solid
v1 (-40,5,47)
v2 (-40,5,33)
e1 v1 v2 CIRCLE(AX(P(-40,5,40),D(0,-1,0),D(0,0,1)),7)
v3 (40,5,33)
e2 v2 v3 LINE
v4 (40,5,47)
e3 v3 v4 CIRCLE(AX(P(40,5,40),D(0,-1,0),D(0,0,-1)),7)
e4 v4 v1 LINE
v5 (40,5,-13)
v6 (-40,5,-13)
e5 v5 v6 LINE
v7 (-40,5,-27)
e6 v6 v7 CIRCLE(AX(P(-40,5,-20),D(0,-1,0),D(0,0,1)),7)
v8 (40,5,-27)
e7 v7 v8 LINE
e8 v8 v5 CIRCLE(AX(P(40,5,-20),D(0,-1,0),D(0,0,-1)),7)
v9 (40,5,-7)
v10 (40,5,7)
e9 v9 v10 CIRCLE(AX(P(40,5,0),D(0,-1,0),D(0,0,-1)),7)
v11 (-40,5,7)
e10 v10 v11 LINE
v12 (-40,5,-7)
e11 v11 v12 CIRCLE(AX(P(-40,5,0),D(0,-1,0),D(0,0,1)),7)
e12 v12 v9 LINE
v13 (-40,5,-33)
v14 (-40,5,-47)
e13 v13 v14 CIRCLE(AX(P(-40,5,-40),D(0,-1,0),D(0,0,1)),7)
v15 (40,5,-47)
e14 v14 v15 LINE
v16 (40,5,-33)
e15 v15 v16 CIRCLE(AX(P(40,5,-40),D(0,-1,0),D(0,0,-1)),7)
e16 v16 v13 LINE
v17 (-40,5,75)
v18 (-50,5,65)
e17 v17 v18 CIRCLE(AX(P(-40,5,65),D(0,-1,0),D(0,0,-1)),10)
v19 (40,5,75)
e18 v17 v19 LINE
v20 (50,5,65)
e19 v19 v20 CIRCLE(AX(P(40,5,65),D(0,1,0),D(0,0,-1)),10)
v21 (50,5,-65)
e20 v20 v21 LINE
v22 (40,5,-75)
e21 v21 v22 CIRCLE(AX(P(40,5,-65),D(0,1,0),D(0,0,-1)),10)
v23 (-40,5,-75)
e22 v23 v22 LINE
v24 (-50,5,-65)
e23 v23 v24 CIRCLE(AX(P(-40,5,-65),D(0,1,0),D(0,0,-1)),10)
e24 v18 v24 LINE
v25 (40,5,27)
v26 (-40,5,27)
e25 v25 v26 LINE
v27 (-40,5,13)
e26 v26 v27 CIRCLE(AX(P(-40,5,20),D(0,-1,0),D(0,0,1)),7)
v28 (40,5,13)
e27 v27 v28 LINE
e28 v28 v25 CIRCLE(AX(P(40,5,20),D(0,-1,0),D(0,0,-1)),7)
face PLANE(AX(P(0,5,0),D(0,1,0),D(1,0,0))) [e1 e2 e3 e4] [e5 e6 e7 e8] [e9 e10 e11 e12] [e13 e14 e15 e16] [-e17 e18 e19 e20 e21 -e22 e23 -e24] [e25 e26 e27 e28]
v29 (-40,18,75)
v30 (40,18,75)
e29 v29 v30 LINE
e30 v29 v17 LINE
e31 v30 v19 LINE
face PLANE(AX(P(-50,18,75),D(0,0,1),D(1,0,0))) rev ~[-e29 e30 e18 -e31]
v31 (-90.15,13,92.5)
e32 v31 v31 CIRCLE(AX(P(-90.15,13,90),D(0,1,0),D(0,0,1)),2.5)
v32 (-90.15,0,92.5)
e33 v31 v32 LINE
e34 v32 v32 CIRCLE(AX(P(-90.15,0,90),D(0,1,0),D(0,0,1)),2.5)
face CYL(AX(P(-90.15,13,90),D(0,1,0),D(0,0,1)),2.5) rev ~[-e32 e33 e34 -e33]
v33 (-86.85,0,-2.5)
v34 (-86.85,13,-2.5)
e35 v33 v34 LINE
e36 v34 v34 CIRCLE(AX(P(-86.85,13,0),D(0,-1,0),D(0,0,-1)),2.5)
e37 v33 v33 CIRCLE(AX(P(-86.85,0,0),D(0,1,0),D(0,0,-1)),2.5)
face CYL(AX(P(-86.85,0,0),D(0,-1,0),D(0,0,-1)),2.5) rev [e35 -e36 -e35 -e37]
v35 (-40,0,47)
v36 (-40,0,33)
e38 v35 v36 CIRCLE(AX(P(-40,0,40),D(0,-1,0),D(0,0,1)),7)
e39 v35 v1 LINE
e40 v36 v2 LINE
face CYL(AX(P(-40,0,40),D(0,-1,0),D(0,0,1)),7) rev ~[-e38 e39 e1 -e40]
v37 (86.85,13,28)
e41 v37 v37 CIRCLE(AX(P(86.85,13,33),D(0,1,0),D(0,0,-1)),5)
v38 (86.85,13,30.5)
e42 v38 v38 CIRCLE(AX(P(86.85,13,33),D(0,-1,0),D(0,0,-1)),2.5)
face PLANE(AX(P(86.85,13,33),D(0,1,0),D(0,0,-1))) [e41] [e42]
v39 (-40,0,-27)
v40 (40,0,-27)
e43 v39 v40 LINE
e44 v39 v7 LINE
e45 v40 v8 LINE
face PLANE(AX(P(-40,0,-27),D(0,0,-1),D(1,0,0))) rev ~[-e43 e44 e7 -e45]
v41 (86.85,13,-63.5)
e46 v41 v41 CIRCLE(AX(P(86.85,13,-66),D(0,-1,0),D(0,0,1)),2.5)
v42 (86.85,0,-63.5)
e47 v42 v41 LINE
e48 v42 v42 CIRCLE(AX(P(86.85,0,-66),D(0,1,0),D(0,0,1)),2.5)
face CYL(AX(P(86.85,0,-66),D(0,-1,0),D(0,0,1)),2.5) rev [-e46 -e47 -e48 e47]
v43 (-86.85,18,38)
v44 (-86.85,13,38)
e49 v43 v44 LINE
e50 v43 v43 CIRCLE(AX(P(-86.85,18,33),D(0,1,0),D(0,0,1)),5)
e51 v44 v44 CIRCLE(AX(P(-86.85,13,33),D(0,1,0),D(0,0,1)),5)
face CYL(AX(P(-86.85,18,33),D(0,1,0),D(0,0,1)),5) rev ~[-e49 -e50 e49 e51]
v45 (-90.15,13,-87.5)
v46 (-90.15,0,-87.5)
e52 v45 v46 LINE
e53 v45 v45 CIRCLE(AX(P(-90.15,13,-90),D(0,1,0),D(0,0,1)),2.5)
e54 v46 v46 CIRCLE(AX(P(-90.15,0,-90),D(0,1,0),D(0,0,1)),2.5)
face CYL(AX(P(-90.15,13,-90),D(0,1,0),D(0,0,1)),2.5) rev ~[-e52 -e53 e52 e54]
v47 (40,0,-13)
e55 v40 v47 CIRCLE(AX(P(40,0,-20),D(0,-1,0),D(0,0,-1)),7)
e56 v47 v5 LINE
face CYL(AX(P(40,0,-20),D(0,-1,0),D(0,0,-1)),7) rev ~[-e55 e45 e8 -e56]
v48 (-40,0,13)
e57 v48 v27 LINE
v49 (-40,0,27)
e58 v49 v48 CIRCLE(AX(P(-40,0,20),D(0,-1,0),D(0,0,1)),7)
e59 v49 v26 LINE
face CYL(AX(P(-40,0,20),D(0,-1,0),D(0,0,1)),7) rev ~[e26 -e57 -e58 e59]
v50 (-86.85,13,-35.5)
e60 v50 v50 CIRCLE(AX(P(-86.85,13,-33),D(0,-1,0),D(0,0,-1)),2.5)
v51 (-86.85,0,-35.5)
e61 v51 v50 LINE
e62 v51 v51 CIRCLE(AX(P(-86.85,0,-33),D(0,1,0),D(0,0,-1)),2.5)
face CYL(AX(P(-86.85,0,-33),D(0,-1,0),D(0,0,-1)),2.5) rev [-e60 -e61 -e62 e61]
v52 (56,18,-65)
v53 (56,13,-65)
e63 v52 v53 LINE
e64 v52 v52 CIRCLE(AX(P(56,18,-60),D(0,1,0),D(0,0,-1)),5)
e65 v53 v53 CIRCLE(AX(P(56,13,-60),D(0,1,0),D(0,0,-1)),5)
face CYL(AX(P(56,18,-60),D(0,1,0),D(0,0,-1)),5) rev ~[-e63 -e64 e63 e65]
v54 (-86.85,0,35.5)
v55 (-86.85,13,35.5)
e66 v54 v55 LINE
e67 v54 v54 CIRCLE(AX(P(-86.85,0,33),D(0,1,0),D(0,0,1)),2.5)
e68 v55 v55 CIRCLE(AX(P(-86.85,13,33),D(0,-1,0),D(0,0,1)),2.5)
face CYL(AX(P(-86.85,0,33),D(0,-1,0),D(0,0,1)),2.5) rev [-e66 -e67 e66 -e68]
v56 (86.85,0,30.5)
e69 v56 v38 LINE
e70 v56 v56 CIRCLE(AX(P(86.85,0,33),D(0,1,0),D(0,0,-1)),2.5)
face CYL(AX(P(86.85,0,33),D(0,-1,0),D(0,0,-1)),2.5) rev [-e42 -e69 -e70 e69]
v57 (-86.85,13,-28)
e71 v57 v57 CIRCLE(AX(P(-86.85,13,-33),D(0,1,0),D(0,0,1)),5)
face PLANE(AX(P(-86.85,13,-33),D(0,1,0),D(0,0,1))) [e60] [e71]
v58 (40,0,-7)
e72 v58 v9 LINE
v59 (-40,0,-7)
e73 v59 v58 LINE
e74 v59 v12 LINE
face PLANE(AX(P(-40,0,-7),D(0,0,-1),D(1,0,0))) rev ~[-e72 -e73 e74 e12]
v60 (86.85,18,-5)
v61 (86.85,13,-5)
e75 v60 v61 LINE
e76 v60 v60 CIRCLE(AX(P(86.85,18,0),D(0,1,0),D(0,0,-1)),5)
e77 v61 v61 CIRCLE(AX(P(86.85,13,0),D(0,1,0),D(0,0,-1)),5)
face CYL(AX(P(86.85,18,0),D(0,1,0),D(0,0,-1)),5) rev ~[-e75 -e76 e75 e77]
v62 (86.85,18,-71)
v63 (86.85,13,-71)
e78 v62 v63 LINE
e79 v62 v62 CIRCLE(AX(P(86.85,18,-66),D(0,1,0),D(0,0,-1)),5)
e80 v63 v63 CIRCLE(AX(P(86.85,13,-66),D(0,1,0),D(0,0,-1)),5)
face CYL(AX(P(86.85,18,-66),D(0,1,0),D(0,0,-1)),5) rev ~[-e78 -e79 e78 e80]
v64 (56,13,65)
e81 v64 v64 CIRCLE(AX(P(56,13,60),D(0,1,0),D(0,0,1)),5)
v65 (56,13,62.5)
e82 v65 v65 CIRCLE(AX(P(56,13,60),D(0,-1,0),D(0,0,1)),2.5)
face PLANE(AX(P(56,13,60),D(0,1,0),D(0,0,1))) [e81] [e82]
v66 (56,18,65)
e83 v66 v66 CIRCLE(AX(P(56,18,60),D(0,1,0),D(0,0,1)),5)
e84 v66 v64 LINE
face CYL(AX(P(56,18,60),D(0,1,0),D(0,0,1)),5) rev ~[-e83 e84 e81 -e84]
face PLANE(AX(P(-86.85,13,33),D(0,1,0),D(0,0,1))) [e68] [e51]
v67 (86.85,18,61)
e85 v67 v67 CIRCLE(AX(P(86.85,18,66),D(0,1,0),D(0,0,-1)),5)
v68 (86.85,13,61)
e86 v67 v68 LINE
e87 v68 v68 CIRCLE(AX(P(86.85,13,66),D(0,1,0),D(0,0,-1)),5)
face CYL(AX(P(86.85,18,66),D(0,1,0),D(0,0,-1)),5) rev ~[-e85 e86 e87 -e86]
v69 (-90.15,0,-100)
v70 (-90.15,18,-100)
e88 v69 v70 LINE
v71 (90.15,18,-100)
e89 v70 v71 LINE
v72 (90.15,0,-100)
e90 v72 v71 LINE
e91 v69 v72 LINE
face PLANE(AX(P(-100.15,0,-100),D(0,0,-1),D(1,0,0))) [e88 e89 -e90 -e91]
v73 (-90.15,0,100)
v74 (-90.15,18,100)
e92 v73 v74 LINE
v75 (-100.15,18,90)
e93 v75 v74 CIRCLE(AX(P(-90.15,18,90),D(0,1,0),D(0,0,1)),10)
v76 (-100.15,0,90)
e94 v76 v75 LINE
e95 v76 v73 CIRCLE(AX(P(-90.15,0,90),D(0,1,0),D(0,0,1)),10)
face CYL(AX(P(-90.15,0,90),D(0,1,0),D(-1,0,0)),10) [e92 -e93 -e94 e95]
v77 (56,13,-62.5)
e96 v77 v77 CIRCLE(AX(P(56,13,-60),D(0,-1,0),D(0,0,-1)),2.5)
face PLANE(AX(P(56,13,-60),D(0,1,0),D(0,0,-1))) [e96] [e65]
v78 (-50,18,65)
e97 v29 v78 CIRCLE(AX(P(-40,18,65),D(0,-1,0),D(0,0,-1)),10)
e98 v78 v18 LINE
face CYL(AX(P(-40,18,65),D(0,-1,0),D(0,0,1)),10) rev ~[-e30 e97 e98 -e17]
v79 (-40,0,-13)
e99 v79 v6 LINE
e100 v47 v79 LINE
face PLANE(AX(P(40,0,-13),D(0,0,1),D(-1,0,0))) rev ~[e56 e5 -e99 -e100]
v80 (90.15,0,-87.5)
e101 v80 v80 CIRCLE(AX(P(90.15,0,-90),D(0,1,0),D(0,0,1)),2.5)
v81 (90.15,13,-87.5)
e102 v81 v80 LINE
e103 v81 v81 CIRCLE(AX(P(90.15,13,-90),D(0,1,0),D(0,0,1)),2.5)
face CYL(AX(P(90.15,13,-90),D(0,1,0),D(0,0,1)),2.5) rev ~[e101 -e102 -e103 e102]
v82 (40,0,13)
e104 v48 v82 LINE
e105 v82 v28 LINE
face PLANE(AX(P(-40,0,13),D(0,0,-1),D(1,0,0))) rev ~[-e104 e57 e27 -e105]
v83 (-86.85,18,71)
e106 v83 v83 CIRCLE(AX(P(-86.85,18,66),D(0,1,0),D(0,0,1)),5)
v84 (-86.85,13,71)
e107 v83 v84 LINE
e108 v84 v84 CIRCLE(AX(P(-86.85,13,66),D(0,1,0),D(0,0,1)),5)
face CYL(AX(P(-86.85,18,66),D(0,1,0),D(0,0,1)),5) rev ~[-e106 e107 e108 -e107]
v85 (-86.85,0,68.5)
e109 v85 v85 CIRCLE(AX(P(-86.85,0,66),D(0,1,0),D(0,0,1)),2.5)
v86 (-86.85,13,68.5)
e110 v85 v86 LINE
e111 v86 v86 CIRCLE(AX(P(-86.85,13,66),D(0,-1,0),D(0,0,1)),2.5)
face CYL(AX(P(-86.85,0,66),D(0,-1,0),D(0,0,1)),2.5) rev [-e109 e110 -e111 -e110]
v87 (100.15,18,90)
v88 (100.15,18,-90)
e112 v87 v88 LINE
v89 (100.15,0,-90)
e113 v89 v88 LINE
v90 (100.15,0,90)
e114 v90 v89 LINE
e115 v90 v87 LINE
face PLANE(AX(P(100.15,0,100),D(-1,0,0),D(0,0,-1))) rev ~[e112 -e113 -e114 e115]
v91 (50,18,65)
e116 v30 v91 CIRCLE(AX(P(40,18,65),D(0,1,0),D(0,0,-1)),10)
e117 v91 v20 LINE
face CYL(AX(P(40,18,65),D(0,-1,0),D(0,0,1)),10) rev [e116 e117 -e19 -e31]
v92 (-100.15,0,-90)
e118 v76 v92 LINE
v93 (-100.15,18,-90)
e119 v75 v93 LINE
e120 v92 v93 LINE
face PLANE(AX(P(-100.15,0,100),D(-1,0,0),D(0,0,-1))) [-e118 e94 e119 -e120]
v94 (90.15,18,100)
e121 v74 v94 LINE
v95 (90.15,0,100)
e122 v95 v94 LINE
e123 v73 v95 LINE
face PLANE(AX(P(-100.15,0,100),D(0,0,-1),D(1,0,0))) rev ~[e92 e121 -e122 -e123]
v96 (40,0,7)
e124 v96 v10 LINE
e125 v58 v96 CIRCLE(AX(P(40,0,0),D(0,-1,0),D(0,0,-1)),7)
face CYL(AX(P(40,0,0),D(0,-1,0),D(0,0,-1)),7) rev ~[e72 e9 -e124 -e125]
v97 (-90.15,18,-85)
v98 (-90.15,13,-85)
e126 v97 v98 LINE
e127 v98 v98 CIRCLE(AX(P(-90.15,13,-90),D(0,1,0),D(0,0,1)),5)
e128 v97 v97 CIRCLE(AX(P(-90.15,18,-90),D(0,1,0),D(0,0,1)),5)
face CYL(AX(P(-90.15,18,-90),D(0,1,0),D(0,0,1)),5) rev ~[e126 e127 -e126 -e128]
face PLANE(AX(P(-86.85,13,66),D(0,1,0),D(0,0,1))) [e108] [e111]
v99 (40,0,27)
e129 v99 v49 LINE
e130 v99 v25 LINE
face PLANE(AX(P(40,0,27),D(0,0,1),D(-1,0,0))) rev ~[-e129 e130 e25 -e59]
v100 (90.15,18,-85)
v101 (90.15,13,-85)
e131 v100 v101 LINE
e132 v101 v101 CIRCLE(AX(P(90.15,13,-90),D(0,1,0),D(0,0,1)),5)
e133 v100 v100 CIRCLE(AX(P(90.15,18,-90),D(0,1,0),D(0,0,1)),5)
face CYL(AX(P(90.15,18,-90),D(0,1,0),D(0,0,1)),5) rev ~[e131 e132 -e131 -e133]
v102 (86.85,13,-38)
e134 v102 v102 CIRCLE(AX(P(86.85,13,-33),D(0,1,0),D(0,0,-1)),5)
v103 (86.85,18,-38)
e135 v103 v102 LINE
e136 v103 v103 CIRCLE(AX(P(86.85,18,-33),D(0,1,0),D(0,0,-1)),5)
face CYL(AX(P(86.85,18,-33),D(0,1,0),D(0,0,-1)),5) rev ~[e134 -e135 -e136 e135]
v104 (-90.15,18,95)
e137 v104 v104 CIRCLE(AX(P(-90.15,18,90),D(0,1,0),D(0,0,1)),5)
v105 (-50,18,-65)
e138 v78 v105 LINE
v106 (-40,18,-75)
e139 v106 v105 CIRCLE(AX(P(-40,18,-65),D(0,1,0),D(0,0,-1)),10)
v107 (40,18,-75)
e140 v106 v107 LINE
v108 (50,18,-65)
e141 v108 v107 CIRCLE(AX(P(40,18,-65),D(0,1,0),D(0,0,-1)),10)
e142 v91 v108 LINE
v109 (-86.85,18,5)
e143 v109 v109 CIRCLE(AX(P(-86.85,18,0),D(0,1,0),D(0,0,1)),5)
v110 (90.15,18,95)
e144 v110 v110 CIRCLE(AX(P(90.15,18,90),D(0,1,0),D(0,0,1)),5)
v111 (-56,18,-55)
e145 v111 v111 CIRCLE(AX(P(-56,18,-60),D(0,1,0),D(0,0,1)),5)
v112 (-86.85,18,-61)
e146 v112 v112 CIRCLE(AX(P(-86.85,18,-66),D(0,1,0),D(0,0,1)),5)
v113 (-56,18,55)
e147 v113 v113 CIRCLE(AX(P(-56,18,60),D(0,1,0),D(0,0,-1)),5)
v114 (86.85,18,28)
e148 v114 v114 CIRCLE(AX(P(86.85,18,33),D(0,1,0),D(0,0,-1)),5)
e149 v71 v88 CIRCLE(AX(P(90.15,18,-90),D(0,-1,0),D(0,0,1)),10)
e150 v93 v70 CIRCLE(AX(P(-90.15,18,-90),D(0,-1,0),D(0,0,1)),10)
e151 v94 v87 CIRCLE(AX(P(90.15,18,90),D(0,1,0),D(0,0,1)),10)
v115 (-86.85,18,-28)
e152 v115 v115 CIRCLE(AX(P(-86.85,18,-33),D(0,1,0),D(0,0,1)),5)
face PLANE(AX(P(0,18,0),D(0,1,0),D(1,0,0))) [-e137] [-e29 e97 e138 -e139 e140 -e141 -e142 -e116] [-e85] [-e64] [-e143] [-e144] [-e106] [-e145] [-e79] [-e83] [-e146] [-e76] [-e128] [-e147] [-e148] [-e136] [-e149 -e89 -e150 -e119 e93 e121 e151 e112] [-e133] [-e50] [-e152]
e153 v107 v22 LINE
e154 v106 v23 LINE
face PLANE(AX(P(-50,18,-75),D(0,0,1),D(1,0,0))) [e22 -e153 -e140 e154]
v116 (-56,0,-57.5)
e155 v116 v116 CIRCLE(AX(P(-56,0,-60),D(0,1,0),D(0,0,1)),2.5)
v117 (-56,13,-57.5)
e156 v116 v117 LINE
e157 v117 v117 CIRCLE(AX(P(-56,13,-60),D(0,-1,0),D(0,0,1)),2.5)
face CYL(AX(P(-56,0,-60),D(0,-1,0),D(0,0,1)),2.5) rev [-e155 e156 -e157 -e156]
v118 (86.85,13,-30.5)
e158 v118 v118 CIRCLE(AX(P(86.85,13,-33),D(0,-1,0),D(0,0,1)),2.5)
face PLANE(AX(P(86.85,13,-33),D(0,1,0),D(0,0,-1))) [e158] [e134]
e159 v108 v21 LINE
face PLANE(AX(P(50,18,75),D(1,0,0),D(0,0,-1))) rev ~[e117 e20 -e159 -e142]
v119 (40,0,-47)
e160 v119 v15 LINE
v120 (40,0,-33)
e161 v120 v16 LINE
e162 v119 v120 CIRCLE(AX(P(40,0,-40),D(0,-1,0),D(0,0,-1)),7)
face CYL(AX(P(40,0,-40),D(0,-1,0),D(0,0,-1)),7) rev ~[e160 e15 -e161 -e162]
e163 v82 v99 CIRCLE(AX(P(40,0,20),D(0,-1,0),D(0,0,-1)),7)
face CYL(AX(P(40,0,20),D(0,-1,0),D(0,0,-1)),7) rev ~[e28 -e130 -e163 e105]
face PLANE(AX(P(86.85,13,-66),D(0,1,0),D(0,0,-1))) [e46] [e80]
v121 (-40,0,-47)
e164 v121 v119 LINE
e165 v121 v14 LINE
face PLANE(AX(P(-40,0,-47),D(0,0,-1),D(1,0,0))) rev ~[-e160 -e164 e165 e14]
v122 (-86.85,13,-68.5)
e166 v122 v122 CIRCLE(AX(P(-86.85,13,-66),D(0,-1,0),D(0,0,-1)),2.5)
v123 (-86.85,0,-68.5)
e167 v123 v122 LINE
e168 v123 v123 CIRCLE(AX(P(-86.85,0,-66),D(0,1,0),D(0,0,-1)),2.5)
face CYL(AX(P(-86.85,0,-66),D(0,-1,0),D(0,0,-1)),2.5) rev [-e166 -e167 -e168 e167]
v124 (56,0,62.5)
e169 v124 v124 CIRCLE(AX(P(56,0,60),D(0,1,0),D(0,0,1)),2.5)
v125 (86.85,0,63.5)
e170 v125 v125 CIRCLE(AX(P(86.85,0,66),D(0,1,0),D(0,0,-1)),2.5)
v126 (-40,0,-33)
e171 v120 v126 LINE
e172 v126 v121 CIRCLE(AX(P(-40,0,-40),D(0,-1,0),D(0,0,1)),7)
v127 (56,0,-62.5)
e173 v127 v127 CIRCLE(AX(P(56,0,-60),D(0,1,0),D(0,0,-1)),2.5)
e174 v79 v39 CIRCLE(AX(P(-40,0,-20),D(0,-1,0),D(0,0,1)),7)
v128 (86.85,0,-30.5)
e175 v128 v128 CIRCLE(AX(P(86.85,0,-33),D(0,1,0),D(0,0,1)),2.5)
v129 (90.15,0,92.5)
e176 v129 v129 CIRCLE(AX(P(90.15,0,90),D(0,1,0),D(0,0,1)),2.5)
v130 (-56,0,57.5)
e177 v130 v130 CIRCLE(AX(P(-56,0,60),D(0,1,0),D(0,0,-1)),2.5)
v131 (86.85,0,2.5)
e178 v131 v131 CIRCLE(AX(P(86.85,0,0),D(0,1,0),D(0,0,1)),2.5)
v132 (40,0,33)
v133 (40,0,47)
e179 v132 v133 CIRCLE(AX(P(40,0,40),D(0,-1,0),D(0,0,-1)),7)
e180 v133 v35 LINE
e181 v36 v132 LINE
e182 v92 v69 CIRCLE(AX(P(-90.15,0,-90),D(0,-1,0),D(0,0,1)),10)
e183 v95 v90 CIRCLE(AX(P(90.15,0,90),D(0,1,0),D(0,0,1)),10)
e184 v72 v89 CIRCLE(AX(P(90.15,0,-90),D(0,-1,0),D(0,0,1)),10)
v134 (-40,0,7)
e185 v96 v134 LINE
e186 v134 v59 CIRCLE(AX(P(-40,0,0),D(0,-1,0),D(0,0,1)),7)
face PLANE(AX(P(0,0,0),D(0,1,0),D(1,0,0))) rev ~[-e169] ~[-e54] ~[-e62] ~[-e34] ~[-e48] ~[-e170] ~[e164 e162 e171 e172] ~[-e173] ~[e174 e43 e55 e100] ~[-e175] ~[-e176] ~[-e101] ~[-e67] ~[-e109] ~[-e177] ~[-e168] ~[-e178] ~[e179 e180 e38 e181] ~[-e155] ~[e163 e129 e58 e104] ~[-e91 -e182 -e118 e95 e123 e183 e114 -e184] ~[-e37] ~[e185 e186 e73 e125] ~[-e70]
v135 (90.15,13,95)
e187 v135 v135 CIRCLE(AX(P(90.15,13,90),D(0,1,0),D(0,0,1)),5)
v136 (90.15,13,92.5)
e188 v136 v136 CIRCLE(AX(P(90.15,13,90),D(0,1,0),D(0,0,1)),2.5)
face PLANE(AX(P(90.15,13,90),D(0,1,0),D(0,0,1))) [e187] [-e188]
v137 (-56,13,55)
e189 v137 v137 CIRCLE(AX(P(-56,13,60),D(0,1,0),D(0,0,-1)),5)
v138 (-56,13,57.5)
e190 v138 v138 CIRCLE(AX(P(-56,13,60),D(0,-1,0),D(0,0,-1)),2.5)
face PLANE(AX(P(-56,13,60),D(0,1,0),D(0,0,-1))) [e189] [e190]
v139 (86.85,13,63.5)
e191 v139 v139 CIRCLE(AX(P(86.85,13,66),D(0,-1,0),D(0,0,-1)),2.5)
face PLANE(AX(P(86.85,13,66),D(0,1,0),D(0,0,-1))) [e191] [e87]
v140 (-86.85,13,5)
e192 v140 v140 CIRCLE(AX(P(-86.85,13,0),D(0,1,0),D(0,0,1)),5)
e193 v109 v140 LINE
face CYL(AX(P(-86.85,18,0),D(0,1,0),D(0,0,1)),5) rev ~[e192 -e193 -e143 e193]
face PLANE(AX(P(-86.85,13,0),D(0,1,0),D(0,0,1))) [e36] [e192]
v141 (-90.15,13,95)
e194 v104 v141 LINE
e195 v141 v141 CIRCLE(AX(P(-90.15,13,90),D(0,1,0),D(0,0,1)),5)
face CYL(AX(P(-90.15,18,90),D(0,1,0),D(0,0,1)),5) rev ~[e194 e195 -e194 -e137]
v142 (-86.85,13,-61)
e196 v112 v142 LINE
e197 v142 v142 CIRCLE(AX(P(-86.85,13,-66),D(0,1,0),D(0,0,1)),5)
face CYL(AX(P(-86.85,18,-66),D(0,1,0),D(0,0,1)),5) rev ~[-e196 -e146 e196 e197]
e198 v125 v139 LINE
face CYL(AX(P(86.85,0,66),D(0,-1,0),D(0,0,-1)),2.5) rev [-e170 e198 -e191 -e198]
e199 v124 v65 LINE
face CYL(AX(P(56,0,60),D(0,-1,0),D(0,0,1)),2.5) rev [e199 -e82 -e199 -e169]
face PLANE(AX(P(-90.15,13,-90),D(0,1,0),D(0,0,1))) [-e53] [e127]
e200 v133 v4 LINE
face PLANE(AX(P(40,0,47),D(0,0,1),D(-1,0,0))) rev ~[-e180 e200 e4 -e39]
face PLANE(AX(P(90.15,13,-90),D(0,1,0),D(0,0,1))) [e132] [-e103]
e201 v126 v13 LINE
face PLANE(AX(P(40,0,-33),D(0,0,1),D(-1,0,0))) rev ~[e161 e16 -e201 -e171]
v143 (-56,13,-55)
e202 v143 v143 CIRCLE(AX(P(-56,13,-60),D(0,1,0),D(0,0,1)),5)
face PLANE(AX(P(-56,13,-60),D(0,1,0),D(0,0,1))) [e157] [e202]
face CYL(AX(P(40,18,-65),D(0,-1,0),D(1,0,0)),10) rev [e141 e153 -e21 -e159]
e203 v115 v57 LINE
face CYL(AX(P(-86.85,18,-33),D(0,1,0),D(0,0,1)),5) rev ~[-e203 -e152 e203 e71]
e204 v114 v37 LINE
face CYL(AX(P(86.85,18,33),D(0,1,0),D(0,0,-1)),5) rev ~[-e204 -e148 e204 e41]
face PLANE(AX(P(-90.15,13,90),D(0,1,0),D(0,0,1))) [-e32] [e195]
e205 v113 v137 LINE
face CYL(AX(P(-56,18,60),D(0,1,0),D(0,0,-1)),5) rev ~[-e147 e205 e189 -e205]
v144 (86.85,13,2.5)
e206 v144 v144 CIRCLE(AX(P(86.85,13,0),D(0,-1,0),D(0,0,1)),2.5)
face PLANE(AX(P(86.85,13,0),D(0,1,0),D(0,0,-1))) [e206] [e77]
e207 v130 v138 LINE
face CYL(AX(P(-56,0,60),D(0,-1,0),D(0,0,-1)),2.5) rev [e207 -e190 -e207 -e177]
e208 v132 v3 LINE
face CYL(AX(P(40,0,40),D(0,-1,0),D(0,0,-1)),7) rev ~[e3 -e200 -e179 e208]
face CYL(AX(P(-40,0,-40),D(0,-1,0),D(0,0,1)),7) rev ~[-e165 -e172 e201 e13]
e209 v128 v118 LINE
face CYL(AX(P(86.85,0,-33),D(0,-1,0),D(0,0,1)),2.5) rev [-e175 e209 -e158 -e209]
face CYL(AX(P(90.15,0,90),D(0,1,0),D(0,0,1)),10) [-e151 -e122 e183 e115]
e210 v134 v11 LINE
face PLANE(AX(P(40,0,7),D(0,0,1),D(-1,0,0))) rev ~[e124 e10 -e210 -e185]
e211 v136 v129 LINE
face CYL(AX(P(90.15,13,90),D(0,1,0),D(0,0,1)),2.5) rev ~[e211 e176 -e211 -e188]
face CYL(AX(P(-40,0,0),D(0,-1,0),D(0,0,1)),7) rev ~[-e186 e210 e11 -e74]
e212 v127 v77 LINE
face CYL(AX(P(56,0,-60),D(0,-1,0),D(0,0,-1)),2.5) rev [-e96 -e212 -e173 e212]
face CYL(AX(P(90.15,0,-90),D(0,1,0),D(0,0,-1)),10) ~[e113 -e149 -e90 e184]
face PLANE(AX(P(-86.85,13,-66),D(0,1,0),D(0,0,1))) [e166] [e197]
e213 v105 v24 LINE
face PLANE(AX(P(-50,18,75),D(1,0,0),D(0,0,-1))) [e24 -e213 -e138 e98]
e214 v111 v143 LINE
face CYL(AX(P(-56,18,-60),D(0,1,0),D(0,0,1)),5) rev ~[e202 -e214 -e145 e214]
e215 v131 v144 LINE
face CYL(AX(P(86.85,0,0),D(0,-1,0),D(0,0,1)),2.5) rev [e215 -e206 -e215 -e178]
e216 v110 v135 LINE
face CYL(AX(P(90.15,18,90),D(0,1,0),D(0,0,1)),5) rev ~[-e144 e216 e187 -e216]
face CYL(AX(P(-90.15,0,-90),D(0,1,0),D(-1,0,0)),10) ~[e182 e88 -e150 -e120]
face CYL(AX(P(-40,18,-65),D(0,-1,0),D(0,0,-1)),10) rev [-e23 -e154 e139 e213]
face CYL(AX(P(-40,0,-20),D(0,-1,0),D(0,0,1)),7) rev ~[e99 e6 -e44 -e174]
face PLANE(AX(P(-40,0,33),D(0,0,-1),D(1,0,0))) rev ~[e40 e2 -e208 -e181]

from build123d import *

# Parameters (mm, degrees)
SKETCH1_W           = 200.3
SKETCH1_H           = 200
SKETCH1_R           = 2.5
BOSS_EXTRUDE1_DEPTH = 18
FILLET1_R           = 10
SKETCH2_R           = 5
CUT_EXTRUDE1_DEPTH  = 5
SKETCH3_W           = 100
SKETCH3_H           = 150
CUT_EXTRUDE2_DEPTH  = 13
FILLET2_R           = 10
SKETCH4_R           = 5
CUT_EXTRUDE3_DEPTH  = 5
SKETCH5_R           = 2.5
CUT_EXTRUDE4_DEPTH  = 143.123265161


with BuildPart() as part:
    # Sketch1 → Boss-Extrude1 (new body)
    with BuildSketch(Plane(origin=(0, 0, 0), x_dir=(1, 0, 0), z_dir=(0, 1, 0))):
        Rectangle(SKETCH1_W, SKETCH1_H)
        with Locations(Location((86.84999973, 0, 0), (0, 0, 270))):
            Circle(SKETCH1_R, mode=Mode.SUBTRACT)
        with Locations(Location((86.84999973, 33, 0), (0, 0, 270))):
            Circle(SKETCH1_R, mode=Mode.SUBTRACT)
        with Locations(Location((86.84999973, 66, 0), (0, 0, 270))):
            Circle(SKETCH1_R, mode=Mode.SUBTRACT)
        with Locations(Location((86.84999973, -66, 0), (0, 0, 90))):
            Circle(SKETCH1_R, mode=Mode.SUBTRACT)
        with Locations(Location((86.84999973, -33, 0), (0, 0, 90))):
            Circle(SKETCH1_R, mode=Mode.SUBTRACT)
        with Locations(Location((-86.84999973, 66, 0), (0, 0, 90))):
            Circle(SKETCH1_R, mode=Mode.SUBTRACT)
        with Locations(Location((-86.84999973, 33, 0), (0, 0, 90))):
            Circle(SKETCH1_R, mode=Mode.SUBTRACT)
        with Locations(Location((-86.84999973, 0, 0), (0, 0, 90))):
            Circle(SKETCH1_R, mode=Mode.SUBTRACT)
        with Locations(Location((-86.84999973, -33, 0), (0, 0, 270))):
            Circle(SKETCH1_R, mode=Mode.SUBTRACT)
        with Locations(Location((-86.84999973, -66, 0), (0, 0, 270))):
            Circle(SKETCH1_R, mode=Mode.SUBTRACT)
        with Locations(Location((56, -60, 0), (0, 0, 270))):
            Circle(SKETCH1_R, mode=Mode.SUBTRACT)
        with Locations(Location((-56, -60, 0), (0, 0, 90))):
            Circle(SKETCH1_R, mode=Mode.SUBTRACT)
        with Locations(Location((-56, 60, 0), (0, 0, 270))):
            Circle(SKETCH1_R, mode=Mode.SUBTRACT)
        with Locations(Location((56, 60, 0), (0, 0, 90))):
            Circle(SKETCH1_R, mode=Mode.SUBTRACT)
        with BuildLine():
            Line((40, 33), (-40, 33))
            ThreePointArc((-40, 33), (-47, 40), (-40, 47))
            Line((-40, 47), (40, 47))
            ThreePointArc((40, 47), (47, 40), (40, 33))
        make_face(mode=Mode.SUBTRACT)
        with BuildLine():
            Line((40, 13), (-40, 13))
            ThreePointArc((-40, 13), (-47, 20), (-40, 27))
            Line((-40, 27), (40, 27))
            ThreePointArc((40, 27), (47, 20), (40, 13))
        make_face(mode=Mode.SUBTRACT)
        with BuildLine():
            Line((40, -7), (-40, -7))
            ThreePointArc((-40, -7), (-47, 0), (-40, 7))
            Line((-40, 7), (40, 7))
            ThreePointArc((40, 7), (47, 0), (40, -7))
        make_face(mode=Mode.SUBTRACT)
        with BuildLine():
            Line((40, -27), (-40, -27))
            ThreePointArc((-40, -27), (-47, -20), (-40, -13))
            Line((-40, -13), (40, -13))
            ThreePointArc((40, -13), (47, -20), (40, -27))
        make_face(mode=Mode.SUBTRACT)
        with BuildLine():
            Line((40, -47), (-40, -47))
            ThreePointArc((-40, -47), (-47, -40), (-40, -33))
            Line((-40, -33), (40, -33))
            ThreePointArc((40, -33), (47, -40), (40, -47))
        make_face(mode=Mode.SUBTRACT)
    extrude(amount=BOSS_EXTRUDE1_DEPTH)

    # Fillet1
    fillet1_edges = [part.edges().sort_by_distance(p)[0] for p in [
        (100.15, 9, 100),
        (-100.15, 9, 100),
        (-100.15, 9, -100),
        (100.15, 9, -100),
    ]]
    fillet(fillet1_edges, radius=FILLET1_R)

    # Sketch2 → Cut-Extrude1 (cut)
    with BuildSketch(Plane(origin=(0, 18, 0), x_dir=(1, 0, 0), z_dir=(0, 1, 0))):
        with Locations(Location((-86.84999973, 66, 0), (0, 0, 270))):
            Circle(SKETCH2_R)
        with Locations(Location((-86.84999973, 33, 0), (0, 0, 270))):
            Circle(SKETCH2_R)
        with Locations(Location((-86.84999973, 0, 0), (0, 0, 270))):
            Circle(SKETCH2_R)
        with Locations(Location((-86.84999973, -33, 0), (0, 0, 270))):
            Circle(SKETCH2_R)
        with Locations(Location((-86.84999973, -66, 0), (0, 0, 270))):
            Circle(SKETCH2_R)
        with Locations(Location((86.84999973, -66, 0), (0, 0, 90))):
            Circle(SKETCH2_R)
        with Locations(Location((86.84999973, -33, 0), (0, 0, 90))):
            Circle(SKETCH2_R)
        with Locations(Location((86.84999973, 0, 0), (0, 0, 90))):
            Circle(SKETCH2_R)
        with Locations(Location((86.84999973, 33, 0), (0, 0, 90))):
            Circle(SKETCH2_R)
        with Locations(Location((86.84999973, 66, 0), (0, 0, 90))):
            Circle(SKETCH2_R)
        with Locations(Location((-56, 60, 0), (0, 0, 270))):
            Circle(SKETCH2_R)
        with Locations(Location((-56, -60, 0), (0, 0, 90))):
            Circle(SKETCH2_R)
        with Locations(Location((56, -60, 0), (0, 0, 270))):
            Circle(SKETCH2_R)
        with Locations(Location((56, 60, 0), (0, 0, 90))):
            Circle(SKETCH2_R)
    extrude(amount=-CUT_EXTRUDE1_DEPTH, mode=Mode.SUBTRACT)

    # Sketch3 → Cut-Extrude2 (cut)
    with BuildSketch(Plane(origin=(0, 18, 0), x_dir=(1, 0, 0), z_dir=(0, 1, 0))):
        Rectangle(SKETCH3_W, SKETCH3_H)
    extrude(amount=-CUT_EXTRUDE2_DEPTH, mode=Mode.SUBTRACT)

    # Fillet2
    fillet2_edges = [part.edges().sort_by_distance(p)[0] for p in [
        (50, 11.5, -75),
        (50, 11.5, 75),
        (-50, 11.5, 75),
        (-50, 11.5, -75),
    ]]
    fillet(fillet2_edges, radius=FILLET2_R)

    # Sketch4 → Cut-Extrude3 (cut)
    with BuildSketch(Plane(origin=(0, 18, 0), x_dir=(1, 0, 0), z_dir=(0, 1, 0))):
        with Locations(Location((-90.15, -90, 0), (0, 0, 270))):
            Circle(SKETCH4_R)
        with Locations(Location((-90.15, 90, 0), (0, 0, 270))):
            Circle(SKETCH4_R)
        with Locations(Location((90.15, 90, 0), (0, 0, 270))):
            Circle(SKETCH4_R)
        with Locations(Location((90.15, -90, 0), (0, 0, 270))):
            Circle(SKETCH4_R)
    extrude(amount=-CUT_EXTRUDE3_DEPTH, mode=Mode.SUBTRACT)

    # Sketch5 → Cut-Extrude4 (cut, through all)
    with BuildSketch(Plane(origin=(0, 13, 0), x_dir=(1, 0, 0), z_dir=(0, 1, 0))):
        with Locations(Location((-90.15, -90, 0), (0, 0, 270))):
            Circle(SKETCH5_R)
        with Locations(Location((-90.15, 90, 0), (0, 0, 270))):
            Circle(SKETCH5_R)
        with Locations(Location((90.15, 90, 0), (0, 0, 270))):
            Circle(SKETCH5_R)
        with Locations(Location((90.15, -90, 0), (0, 0, 270))):
            Circle(SKETCH5_R)
    extrude(amount=-CUT_EXTRUDE4_DEPTH, mode=Mode.SUBTRACT)


solid = part.part
